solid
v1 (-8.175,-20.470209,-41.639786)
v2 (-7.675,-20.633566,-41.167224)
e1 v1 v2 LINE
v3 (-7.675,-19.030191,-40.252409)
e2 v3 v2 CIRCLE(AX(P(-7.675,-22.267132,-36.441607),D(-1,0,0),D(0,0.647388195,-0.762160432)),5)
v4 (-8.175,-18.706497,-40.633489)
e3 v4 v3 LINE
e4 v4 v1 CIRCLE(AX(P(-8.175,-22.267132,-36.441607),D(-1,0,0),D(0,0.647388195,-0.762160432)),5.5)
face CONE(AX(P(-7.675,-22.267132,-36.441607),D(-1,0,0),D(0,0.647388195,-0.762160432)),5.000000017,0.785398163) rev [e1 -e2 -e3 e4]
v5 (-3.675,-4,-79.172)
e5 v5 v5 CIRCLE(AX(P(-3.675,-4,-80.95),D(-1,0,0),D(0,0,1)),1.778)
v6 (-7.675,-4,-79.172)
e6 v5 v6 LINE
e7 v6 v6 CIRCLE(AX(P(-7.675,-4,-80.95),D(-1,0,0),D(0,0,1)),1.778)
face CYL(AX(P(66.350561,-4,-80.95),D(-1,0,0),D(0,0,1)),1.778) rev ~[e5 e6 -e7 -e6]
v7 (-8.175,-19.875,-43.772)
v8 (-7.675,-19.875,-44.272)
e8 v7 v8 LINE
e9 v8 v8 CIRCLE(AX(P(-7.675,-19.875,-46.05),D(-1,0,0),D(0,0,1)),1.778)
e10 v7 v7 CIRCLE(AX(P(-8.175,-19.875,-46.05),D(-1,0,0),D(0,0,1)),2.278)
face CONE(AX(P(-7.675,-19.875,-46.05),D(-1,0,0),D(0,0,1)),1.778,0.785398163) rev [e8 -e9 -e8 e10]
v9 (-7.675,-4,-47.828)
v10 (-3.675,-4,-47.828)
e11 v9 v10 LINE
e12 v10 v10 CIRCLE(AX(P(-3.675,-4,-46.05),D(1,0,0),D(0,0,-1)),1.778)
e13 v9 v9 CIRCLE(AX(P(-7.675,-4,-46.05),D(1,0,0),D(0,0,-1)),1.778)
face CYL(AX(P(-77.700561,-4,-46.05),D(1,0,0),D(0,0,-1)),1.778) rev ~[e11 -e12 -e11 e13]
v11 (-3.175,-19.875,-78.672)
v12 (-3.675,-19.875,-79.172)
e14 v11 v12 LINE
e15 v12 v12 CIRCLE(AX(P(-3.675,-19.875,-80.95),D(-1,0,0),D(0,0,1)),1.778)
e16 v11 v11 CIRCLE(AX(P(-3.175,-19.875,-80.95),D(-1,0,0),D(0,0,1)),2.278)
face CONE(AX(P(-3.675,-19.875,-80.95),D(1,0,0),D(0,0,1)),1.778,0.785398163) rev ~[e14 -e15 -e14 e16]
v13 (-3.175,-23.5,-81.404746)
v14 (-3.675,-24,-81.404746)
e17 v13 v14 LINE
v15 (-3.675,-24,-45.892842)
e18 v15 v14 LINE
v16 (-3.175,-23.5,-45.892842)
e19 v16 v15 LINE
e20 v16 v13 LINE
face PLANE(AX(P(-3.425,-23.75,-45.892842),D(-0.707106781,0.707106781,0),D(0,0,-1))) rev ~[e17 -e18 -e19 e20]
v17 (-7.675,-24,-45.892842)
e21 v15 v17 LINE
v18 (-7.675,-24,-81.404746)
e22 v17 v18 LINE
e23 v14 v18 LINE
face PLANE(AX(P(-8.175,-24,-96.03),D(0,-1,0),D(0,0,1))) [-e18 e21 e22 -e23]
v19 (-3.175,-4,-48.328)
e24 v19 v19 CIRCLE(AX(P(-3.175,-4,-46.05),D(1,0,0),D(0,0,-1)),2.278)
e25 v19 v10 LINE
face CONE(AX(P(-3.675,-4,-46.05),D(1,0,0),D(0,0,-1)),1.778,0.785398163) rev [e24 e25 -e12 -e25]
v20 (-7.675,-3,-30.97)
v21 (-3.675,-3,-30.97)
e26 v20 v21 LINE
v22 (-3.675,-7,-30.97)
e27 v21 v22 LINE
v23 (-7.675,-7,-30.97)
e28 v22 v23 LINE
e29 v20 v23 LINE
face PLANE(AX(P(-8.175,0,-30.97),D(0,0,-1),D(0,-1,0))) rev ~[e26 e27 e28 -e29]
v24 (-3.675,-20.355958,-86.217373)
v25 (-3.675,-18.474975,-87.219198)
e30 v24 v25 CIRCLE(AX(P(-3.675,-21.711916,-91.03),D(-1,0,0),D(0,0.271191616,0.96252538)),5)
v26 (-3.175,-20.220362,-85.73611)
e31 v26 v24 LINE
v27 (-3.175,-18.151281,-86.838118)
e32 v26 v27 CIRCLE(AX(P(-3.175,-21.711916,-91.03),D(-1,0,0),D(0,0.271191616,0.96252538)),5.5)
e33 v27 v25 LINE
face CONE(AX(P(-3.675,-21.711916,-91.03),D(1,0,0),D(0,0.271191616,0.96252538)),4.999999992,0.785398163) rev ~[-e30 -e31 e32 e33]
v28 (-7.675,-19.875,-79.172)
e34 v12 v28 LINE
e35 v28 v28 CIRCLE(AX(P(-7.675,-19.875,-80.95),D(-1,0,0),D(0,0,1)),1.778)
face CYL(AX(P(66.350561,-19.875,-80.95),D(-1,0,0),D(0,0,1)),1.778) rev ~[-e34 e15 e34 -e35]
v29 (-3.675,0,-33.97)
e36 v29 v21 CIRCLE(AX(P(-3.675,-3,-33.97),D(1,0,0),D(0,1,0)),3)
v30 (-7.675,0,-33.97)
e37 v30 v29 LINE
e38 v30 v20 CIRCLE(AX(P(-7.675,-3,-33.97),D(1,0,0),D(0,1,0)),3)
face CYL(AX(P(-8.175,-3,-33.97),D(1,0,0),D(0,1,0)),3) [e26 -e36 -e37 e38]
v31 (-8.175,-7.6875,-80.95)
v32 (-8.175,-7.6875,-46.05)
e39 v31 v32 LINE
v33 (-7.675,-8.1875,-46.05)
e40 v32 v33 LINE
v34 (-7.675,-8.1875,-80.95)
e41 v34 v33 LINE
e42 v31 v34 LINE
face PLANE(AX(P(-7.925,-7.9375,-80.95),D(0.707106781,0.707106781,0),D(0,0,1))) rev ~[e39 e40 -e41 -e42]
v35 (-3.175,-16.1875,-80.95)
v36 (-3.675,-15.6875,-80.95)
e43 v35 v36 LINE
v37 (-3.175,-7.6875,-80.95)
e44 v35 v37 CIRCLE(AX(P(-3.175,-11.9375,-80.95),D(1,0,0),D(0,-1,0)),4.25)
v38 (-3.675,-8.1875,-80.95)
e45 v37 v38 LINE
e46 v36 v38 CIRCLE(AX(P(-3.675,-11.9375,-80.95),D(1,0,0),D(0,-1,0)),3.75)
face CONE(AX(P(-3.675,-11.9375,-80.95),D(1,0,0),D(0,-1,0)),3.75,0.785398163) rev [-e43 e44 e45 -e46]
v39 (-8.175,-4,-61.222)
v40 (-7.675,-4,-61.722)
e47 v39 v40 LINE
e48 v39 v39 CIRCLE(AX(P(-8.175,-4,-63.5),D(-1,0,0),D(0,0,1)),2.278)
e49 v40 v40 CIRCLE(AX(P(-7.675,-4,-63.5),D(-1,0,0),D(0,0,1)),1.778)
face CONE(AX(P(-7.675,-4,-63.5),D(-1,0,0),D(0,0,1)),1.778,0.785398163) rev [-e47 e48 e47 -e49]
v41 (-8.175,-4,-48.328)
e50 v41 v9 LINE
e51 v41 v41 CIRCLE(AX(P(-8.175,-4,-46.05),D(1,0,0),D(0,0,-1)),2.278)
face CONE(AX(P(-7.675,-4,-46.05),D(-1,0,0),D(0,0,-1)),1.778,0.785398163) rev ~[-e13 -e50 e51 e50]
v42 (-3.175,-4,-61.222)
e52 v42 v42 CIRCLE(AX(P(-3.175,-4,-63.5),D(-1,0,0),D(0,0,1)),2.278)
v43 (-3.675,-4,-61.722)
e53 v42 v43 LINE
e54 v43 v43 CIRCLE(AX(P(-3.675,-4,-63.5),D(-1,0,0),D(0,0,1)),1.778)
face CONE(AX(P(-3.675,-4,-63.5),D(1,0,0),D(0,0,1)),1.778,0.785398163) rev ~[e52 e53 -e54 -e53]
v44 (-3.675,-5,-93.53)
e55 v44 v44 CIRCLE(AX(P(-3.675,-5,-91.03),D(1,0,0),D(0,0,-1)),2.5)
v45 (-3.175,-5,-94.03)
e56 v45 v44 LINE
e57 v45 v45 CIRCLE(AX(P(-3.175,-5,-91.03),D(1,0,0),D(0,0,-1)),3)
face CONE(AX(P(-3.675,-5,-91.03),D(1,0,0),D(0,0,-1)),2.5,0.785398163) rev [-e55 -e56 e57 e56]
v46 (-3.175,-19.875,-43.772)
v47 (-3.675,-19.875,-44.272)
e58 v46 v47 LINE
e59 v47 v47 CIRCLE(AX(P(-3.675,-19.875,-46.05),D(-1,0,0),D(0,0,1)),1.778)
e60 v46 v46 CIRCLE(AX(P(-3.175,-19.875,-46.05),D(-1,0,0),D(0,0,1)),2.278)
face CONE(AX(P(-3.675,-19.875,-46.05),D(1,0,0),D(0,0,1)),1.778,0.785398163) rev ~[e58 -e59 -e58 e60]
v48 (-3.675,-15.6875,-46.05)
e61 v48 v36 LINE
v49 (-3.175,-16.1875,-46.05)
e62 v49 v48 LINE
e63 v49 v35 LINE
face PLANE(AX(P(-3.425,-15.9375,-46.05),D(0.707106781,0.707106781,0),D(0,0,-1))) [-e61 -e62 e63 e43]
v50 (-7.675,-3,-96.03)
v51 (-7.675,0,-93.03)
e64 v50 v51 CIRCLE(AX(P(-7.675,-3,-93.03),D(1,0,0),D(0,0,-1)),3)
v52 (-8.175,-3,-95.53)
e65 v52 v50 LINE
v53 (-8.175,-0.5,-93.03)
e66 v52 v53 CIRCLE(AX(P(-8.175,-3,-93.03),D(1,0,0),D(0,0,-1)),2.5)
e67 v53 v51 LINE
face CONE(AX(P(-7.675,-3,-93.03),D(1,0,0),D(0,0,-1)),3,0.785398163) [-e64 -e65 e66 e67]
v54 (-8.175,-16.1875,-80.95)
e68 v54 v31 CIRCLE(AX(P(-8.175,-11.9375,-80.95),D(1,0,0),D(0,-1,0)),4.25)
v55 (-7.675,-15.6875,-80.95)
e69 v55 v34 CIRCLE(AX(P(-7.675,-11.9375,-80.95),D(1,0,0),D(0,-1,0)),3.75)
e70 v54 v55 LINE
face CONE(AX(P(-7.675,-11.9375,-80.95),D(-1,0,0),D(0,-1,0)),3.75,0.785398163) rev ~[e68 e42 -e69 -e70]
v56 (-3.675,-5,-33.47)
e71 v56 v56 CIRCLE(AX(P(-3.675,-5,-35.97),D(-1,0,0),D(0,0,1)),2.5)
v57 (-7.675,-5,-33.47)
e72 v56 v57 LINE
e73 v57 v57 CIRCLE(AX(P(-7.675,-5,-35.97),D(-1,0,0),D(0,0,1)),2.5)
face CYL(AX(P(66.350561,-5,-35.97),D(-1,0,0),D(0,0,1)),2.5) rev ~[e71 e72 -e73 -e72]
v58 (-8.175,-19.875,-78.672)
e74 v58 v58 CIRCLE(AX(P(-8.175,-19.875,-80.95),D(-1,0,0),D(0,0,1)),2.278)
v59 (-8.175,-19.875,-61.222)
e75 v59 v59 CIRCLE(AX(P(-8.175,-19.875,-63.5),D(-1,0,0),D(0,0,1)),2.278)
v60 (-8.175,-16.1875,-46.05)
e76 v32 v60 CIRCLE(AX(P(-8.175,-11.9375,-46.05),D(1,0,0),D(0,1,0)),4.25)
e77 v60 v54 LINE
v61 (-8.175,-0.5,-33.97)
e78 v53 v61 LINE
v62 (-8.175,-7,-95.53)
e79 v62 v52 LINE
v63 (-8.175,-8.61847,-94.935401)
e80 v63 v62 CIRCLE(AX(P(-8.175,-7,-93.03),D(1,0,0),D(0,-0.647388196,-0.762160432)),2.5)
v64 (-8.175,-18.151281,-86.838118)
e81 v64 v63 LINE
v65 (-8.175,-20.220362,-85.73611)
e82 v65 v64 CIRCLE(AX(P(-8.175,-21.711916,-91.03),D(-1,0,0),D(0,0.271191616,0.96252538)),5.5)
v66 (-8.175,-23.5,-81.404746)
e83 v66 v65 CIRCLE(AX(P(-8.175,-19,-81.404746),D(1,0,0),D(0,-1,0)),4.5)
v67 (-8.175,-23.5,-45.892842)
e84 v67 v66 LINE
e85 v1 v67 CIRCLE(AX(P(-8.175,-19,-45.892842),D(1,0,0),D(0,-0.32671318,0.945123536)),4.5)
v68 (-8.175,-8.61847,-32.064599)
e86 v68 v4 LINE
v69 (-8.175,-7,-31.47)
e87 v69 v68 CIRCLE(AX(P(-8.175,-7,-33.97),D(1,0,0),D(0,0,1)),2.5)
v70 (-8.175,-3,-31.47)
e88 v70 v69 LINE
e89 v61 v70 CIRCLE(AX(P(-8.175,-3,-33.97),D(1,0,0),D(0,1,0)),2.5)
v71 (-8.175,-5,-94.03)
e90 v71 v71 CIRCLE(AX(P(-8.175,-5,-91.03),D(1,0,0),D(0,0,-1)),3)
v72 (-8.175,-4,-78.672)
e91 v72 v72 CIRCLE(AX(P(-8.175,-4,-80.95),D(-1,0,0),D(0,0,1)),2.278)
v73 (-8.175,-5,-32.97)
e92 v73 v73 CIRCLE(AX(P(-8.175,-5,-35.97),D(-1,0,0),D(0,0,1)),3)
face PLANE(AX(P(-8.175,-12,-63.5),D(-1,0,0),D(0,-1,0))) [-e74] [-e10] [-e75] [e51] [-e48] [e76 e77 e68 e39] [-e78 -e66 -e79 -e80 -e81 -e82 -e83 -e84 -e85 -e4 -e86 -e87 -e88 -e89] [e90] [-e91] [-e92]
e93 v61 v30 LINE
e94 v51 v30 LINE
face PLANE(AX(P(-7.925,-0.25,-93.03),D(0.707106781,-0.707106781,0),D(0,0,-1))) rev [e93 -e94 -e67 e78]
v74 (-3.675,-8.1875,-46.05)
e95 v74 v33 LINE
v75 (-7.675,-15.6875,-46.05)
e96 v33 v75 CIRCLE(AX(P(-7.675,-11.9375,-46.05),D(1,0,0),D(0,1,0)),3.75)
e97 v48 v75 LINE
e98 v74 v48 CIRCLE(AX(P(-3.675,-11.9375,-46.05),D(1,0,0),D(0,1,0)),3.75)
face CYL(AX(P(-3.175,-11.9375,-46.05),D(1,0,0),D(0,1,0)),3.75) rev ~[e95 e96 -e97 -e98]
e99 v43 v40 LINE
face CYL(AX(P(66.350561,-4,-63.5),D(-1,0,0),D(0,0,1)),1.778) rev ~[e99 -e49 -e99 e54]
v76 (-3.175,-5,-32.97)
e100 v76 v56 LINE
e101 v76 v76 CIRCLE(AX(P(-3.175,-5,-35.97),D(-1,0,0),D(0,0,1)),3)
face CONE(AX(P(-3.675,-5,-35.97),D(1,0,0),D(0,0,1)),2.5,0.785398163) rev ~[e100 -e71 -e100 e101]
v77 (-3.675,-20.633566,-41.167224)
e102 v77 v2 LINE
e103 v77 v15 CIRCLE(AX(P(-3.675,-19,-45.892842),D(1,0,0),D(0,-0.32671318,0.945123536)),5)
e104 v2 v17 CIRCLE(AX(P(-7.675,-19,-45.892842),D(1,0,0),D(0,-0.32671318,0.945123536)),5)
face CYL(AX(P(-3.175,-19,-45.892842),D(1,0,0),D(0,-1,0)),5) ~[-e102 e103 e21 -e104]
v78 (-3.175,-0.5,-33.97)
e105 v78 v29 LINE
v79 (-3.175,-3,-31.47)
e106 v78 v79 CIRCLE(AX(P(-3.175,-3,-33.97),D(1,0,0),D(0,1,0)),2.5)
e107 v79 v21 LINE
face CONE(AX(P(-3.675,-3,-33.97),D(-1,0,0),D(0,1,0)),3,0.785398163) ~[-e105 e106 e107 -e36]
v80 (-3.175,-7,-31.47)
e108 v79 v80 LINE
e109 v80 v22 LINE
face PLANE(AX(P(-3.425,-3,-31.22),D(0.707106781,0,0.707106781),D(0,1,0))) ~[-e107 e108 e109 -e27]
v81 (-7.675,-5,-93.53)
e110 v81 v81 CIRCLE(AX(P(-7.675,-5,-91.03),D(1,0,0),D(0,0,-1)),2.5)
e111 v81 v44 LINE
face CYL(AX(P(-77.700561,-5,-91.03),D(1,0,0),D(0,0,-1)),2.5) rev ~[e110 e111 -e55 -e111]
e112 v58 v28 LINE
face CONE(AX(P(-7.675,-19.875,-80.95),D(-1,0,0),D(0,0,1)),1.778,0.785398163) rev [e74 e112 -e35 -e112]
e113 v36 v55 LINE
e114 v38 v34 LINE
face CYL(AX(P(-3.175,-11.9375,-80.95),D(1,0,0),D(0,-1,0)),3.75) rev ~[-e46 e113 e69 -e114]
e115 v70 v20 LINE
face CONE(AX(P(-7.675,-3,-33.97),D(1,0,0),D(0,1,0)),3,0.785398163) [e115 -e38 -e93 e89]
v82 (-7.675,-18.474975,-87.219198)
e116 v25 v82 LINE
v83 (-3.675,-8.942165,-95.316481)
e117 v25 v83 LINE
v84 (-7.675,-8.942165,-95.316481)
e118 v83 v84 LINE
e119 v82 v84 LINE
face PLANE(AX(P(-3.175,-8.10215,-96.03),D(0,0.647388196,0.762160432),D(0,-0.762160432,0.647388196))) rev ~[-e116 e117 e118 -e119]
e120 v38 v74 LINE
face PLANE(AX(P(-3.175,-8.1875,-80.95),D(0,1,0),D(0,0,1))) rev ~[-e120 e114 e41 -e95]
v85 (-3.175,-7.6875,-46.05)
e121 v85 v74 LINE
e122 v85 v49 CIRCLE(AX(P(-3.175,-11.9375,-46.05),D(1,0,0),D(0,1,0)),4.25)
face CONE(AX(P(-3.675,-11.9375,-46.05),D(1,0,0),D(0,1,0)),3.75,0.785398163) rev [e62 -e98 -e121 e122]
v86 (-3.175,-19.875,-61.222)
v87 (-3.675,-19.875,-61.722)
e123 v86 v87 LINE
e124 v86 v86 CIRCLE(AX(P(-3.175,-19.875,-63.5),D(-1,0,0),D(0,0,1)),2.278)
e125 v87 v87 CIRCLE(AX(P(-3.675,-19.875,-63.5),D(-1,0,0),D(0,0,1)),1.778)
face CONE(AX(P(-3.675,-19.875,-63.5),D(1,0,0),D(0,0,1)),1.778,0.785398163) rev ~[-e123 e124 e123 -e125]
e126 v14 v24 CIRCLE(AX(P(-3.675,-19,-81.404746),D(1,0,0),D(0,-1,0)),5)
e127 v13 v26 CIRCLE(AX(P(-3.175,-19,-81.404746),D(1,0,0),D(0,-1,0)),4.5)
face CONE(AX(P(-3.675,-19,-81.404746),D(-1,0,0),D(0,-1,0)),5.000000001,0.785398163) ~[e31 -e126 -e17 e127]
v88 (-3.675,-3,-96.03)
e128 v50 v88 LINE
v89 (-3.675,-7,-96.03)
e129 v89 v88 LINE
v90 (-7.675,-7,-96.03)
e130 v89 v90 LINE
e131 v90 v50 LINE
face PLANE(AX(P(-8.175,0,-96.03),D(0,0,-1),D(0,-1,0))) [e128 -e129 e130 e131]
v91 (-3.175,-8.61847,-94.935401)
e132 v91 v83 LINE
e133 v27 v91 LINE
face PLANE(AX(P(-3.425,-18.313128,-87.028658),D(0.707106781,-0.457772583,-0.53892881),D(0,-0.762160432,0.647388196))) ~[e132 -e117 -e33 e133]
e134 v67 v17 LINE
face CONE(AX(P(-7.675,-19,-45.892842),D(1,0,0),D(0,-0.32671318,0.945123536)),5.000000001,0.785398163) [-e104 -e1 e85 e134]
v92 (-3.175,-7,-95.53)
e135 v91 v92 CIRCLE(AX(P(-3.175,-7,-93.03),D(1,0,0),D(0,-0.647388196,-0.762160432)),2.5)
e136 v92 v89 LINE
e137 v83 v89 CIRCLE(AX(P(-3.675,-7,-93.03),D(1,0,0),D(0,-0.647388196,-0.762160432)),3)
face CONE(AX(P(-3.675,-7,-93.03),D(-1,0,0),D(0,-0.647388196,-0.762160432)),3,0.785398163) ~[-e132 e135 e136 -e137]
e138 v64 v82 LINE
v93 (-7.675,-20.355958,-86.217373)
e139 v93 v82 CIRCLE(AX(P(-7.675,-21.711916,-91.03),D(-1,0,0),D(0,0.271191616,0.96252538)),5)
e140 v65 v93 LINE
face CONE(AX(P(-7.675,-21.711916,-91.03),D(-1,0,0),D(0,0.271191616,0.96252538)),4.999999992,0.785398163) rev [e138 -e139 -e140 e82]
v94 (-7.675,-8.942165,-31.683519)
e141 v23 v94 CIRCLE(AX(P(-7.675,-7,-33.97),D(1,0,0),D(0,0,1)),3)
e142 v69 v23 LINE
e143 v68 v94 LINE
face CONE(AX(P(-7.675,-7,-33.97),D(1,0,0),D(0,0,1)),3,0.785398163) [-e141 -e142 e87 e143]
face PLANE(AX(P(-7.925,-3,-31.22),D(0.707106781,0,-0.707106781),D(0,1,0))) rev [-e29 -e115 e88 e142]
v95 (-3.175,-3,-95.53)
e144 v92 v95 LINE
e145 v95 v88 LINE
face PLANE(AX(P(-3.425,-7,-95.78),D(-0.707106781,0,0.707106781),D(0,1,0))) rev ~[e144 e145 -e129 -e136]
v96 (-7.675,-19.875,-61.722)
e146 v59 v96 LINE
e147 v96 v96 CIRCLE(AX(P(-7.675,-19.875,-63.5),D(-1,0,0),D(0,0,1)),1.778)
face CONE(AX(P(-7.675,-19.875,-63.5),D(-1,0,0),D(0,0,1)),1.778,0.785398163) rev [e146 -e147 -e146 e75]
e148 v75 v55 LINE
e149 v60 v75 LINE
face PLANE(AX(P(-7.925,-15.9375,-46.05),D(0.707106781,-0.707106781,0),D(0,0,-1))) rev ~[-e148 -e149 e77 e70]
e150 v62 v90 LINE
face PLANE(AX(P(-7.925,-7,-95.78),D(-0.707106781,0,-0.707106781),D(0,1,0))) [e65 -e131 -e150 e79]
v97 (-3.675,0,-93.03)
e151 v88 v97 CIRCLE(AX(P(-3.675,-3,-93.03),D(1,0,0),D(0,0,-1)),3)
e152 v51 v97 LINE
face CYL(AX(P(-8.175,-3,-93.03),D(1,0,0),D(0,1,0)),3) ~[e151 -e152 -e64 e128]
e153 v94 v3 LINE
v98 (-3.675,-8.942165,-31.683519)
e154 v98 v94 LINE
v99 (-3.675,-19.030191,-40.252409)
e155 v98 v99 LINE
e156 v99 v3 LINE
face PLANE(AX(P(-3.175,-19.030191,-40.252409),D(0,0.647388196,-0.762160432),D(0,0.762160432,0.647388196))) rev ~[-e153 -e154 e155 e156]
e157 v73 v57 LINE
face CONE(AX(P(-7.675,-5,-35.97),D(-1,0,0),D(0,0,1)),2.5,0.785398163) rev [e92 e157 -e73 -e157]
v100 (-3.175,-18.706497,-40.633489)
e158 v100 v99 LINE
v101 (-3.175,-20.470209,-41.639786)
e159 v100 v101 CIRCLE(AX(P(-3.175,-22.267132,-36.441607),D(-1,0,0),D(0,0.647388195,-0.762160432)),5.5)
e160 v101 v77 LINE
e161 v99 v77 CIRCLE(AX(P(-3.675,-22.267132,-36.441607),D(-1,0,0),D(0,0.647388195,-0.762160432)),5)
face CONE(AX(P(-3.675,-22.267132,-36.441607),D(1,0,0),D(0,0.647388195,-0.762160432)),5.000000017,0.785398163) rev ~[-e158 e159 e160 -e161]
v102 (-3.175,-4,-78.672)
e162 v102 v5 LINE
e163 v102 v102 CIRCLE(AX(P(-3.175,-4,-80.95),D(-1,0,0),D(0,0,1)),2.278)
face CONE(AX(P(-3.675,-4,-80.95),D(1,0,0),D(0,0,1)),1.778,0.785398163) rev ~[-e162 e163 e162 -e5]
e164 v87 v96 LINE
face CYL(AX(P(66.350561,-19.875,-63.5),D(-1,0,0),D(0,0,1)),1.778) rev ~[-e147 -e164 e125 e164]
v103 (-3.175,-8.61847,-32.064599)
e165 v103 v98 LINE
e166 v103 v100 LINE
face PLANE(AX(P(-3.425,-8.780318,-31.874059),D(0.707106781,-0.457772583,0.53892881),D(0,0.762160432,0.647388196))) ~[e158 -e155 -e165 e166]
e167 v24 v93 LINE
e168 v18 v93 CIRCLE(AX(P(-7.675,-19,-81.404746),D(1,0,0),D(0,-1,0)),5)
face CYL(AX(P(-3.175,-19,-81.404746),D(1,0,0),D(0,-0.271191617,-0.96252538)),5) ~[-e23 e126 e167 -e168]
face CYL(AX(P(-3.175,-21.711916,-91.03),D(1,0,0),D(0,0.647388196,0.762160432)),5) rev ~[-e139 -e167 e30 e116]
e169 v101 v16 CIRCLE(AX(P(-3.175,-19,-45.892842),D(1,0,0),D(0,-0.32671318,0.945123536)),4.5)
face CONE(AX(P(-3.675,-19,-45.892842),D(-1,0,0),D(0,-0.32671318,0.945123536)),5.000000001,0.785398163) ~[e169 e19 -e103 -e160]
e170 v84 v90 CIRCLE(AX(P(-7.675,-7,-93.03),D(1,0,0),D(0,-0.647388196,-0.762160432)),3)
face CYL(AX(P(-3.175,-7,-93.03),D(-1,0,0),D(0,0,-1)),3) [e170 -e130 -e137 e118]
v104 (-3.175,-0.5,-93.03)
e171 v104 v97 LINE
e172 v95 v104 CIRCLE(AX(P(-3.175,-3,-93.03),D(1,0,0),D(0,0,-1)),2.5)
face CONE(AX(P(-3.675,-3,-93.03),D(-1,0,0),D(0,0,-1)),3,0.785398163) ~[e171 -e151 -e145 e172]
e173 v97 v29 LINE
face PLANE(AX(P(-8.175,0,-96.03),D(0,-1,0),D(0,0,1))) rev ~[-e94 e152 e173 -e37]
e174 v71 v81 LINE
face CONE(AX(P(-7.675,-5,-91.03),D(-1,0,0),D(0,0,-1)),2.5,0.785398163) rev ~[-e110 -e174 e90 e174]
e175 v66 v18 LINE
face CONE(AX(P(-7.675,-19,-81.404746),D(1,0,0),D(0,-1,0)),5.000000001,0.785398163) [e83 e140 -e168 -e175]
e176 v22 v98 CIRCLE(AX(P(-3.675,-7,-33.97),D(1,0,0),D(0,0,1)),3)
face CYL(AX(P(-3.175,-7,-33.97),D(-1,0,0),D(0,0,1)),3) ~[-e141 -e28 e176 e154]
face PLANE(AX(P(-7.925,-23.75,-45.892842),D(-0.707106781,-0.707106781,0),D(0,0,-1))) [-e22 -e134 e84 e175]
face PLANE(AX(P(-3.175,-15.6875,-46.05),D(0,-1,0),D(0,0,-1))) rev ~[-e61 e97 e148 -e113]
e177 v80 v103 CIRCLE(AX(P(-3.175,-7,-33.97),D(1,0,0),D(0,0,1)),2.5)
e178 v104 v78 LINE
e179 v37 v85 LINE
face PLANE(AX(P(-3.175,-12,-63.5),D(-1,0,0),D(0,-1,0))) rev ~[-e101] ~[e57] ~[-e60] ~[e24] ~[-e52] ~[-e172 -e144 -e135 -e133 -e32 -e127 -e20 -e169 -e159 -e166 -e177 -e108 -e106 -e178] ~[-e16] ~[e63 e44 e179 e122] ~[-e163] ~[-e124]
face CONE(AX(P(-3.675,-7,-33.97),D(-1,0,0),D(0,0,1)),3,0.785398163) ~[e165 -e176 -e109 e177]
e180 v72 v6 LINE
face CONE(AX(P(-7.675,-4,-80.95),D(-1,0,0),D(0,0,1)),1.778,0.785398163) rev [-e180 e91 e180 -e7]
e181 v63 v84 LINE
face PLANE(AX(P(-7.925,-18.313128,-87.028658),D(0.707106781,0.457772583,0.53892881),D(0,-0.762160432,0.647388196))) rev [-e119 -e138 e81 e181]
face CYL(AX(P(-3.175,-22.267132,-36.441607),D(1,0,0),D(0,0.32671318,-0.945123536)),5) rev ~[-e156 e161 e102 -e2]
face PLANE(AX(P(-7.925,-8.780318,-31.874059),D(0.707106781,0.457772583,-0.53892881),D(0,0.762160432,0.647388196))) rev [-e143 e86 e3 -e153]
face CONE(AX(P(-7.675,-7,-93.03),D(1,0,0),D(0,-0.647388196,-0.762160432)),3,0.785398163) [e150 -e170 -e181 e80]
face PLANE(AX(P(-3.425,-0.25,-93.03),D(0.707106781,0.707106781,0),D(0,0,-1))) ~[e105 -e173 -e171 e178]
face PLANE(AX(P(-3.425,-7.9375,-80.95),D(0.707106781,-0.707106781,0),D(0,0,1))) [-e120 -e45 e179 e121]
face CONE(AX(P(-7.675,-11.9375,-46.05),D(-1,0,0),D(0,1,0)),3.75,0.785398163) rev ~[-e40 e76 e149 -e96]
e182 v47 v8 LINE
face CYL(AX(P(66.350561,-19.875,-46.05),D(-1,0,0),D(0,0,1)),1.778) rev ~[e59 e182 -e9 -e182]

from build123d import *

# Parameters (mm, degrees)
SKETCH1_W                = 24
SKETCH1_H                = 65.06
BOSS_EXTRUDE1_DEPTH      = 5
CUT_EXTRUDE1_DEPTH       = 100.109842599
CUT_EXTRUDE2_DEPTH       = 100.109842599
CUT_EXTRUDE3_DEPTH       = 100.109842599
M3_CLEARANCE_HOLE1_D     = 3.556
M3_CLEARANCE_HOLE2_D     = 3.556
F_5_0_5_DIAMETER_HOLE1_D = 5
F_5_0_5_DIAMETER_HOLE2_D = 5
FILLET1_R                = 3
CHAMFER1_SIZE            = 0.5


with BuildPart() as part:
    # Sketch1 → Boss-Extrude1 (new body)
    with BuildSketch(Plane(origin=(-8.175, 0, 0), x_dir=(0, -1, 0), z_dir=(-1, 0, 0))):
        with Locations((12, -63.5)):
            Rectangle(SKETCH1_W, SKETCH1_H)
    extrude(amount=-BOSS_EXTRUDE1_DEPTH)

    # Sketch2 → Cut-Extrude1 (cut, through all)
    with BuildSketch(Plane(origin=(-3.175, 0, 0), x_dir=(0, 0, -1), z_dir=(1, 0, 0))):
        with BuildLine():
            Line((30.97, -24), (45.892842167, -24))
            ThreePointArc((45.892842167, -24), (42.991793175, -23.072335294), (41.167224487, -20.633565899))
            ThreePointArc((41.167224487, -20.633565899), (40.784453665, -19.789293795), (40.252408967, -19.030190819))
            Line((40.252408967, -19.030190819), (30.97, -8.102149698))
            Line((30.97, -8.102149698), (30.97, -24))
        make_face()
    extrude(amount=-CUT_EXTRUDE1_DEPTH, mode=Mode.SUBTRACT)

    # Sketch3 → Cut-Extrude2 (cut, through all)
    with BuildSketch(Plane(origin=(-3.175, 0, 0), x_dir=(0, 0, -1), z_dir=(1, 0, 0))):
        with BuildLine():
            Line((81.4047462, -24), (96.03, -24))
            Line((96.03, -24), (96.03, -8.102149698))
            Line((96.03, -8.102149698), (87.219197841, -18.474975184))
            ThreePointArc((87.219197841, -18.474975184), (86.616905128, -19.361470748), (86.2173731, -20.355958082))
            ThreePointArc((86.2173731, -20.355958082), (84.423041214, -22.986213141), (81.4047462, -24))
        make_face()
    extrude(amount=-CUT_EXTRUDE2_DEPTH, mode=Mode.SUBTRACT)

    # Sketch4 → Cut-Extrude3 (cut, through all)
    with BuildSketch(Plane(origin=(-3.175, 0, 0), x_dir=(0, 0, -1), z_dir=(1, 0, 0))):
        with BuildLine():
            Line((80.95, -8.1875), (46.05, -8.1875))
            ThreePointArc((46.05, -8.1875), (42.3, -11.9375), (46.05, -15.6875))
            Line((46.05, -15.6875), (80.95, -15.6875))
            ThreePointArc((80.95, -15.6875), (84.7, -11.9375), (80.95, -8.1875))
        make_face()
    extrude(amount=-CUT_EXTRUDE3_DEPTH, mode=Mode.SUBTRACT)

    # M3 Clearance Hole1 (through all)
    with Locations(Plane.ZY.offset(8.175)):
        with Locations((-46.05, -4)):
            Hole(M3_CLEARANCE_HOLE1_D / 2)

    # M3 Clearance Hole2 (through all)
    with Locations(Plane(origin=(-3.175, 0, 0), x_dir=(0, 0, -1), z_dir=(1, 0, 0))):
        with Locations((46.05, -19.875), (63.5, -19.875), (80.95, -19.875), (80.95, -4), (63.5, -4)):
            Hole(M3_CLEARANCE_HOLE2_D / 2)

    # Ø5.0 (5) Diameter Hole1 (through all)
    with Locations(Plane.ZY.offset(8.175)):
        with Locations((-91.03, -5)):
            Hole(F_5_0_5_DIAMETER_HOLE1_D / 2)

    # Ø5.0 (5) Diameter Hole2 (through all)
    with Locations(Plane(origin=(-3.175, 0, 0), x_dir=(0, 0, -1), z_dir=(1, 0, 0))):
        with Locations((35.97, -5)):
            Hole(F_5_0_5_DIAMETER_HOLE2_D / 2)

    # Fillet1
    fillet1_edges = [part.edges().sort_by_distance(p)[0] for p in [
        (-5.675, -8.102149698, -30.97),
        (-5.675, -8.102149698, -96.03),
        (-5.675, 0, -96.03),
        (-5.675, 0, -30.97),
    ]]
    fillet(fillet1_edges, radius=FILLET1_R)

    # Chamfer1
    chamfer1_edges = [part.edges().sort_by_distance(p)[0] for p in [
        (-8.175, -5, -88.53),
        (-3.175, -5, -88.53),
        (-3.175, -5, -38.47),
        (-8.175, -5, -38.47),
        (-8.175, -5, -30.97),
        (-3.175, -5, -30.97),
        (-3.175, -13.708569886, -91.267839568),
        (-3.175, -5, -96.03),
        (-3.175, 0, -63.5),
        (-3.175, -8.034542438, -95.845976197),
        (-3.175, -0.878679656, -31.848679656),
        (-3.175, -0.878679656, -95.151320344),
        (-3.175, -8.034542438, -31.154023803),
        (-8.175, -5, -96.03),
        (-8.175, -13.708569886, -91.267839568),
        (-8.175, 0, -63.5),
        (-8.175, -8.034542438, -95.845976197),
        (-8.175, -0.878679656, -31.848679656),
        (-8.175, -0.878679656, -95.151320344),
        (-8.175, -8.034542438, -31.154023803),
        (-8.175, -13.986177703, -35.967963836),
        (-8.175, -19.789293795, -40.784453665),
        (-8.175, -23.072335294, -42.991793175),
        (-3.175, -23.072335294, -42.991793175),
        (-3.175, -19.789293795, -40.784453665),
        (-3.175, -13.986177703, -35.967963836),
        (-8.175, -24, -63.648794183),
        (-3.175, -24, -63.648794183),
        (-8.175, -19.361470748, -86.616905128),
        (-8.175, -22.986213141, -84.423041214),
        (-3.175, -19.361470748, -86.616905128),
        (-3.175, -22.986213141, -84.423041214),
        (-8.175, -11.9375, -84.7),
        (-8.175, -15.6875, -63.5),
        (-8.175, -11.9375, -42.3),
        (-8.175, -8.1875, -63.5),
        (-3.175, -11.9375, -84.7),
        (-3.175, -8.1875, -63.5),
        (-3.175, -11.9375, -42.3),
        (-3.175, -15.6875, -63.5),
        (-8.175, -4, -44.272),
        (-3.175, -4, -44.272),
        (-3.175, -4, -65.278),
        (-8.175, -4, -65.278),
        (-3.175, -4, -82.728),
        (-8.175, -4, -82.728),
        (-3.175, -19.875, -82.728),
        (-8.175, -19.875, -82.728),
        (-3.175, -19.875, -65.278),
        (-8.175, -19.875, -65.278),
        (-3.175, -19.875, -47.828),
        (-8.175, -19.875, -47.828),
    ]]
    chamfer(chamfer1_edges, length=CHAMFER1_SIZE)


solid = part.part
